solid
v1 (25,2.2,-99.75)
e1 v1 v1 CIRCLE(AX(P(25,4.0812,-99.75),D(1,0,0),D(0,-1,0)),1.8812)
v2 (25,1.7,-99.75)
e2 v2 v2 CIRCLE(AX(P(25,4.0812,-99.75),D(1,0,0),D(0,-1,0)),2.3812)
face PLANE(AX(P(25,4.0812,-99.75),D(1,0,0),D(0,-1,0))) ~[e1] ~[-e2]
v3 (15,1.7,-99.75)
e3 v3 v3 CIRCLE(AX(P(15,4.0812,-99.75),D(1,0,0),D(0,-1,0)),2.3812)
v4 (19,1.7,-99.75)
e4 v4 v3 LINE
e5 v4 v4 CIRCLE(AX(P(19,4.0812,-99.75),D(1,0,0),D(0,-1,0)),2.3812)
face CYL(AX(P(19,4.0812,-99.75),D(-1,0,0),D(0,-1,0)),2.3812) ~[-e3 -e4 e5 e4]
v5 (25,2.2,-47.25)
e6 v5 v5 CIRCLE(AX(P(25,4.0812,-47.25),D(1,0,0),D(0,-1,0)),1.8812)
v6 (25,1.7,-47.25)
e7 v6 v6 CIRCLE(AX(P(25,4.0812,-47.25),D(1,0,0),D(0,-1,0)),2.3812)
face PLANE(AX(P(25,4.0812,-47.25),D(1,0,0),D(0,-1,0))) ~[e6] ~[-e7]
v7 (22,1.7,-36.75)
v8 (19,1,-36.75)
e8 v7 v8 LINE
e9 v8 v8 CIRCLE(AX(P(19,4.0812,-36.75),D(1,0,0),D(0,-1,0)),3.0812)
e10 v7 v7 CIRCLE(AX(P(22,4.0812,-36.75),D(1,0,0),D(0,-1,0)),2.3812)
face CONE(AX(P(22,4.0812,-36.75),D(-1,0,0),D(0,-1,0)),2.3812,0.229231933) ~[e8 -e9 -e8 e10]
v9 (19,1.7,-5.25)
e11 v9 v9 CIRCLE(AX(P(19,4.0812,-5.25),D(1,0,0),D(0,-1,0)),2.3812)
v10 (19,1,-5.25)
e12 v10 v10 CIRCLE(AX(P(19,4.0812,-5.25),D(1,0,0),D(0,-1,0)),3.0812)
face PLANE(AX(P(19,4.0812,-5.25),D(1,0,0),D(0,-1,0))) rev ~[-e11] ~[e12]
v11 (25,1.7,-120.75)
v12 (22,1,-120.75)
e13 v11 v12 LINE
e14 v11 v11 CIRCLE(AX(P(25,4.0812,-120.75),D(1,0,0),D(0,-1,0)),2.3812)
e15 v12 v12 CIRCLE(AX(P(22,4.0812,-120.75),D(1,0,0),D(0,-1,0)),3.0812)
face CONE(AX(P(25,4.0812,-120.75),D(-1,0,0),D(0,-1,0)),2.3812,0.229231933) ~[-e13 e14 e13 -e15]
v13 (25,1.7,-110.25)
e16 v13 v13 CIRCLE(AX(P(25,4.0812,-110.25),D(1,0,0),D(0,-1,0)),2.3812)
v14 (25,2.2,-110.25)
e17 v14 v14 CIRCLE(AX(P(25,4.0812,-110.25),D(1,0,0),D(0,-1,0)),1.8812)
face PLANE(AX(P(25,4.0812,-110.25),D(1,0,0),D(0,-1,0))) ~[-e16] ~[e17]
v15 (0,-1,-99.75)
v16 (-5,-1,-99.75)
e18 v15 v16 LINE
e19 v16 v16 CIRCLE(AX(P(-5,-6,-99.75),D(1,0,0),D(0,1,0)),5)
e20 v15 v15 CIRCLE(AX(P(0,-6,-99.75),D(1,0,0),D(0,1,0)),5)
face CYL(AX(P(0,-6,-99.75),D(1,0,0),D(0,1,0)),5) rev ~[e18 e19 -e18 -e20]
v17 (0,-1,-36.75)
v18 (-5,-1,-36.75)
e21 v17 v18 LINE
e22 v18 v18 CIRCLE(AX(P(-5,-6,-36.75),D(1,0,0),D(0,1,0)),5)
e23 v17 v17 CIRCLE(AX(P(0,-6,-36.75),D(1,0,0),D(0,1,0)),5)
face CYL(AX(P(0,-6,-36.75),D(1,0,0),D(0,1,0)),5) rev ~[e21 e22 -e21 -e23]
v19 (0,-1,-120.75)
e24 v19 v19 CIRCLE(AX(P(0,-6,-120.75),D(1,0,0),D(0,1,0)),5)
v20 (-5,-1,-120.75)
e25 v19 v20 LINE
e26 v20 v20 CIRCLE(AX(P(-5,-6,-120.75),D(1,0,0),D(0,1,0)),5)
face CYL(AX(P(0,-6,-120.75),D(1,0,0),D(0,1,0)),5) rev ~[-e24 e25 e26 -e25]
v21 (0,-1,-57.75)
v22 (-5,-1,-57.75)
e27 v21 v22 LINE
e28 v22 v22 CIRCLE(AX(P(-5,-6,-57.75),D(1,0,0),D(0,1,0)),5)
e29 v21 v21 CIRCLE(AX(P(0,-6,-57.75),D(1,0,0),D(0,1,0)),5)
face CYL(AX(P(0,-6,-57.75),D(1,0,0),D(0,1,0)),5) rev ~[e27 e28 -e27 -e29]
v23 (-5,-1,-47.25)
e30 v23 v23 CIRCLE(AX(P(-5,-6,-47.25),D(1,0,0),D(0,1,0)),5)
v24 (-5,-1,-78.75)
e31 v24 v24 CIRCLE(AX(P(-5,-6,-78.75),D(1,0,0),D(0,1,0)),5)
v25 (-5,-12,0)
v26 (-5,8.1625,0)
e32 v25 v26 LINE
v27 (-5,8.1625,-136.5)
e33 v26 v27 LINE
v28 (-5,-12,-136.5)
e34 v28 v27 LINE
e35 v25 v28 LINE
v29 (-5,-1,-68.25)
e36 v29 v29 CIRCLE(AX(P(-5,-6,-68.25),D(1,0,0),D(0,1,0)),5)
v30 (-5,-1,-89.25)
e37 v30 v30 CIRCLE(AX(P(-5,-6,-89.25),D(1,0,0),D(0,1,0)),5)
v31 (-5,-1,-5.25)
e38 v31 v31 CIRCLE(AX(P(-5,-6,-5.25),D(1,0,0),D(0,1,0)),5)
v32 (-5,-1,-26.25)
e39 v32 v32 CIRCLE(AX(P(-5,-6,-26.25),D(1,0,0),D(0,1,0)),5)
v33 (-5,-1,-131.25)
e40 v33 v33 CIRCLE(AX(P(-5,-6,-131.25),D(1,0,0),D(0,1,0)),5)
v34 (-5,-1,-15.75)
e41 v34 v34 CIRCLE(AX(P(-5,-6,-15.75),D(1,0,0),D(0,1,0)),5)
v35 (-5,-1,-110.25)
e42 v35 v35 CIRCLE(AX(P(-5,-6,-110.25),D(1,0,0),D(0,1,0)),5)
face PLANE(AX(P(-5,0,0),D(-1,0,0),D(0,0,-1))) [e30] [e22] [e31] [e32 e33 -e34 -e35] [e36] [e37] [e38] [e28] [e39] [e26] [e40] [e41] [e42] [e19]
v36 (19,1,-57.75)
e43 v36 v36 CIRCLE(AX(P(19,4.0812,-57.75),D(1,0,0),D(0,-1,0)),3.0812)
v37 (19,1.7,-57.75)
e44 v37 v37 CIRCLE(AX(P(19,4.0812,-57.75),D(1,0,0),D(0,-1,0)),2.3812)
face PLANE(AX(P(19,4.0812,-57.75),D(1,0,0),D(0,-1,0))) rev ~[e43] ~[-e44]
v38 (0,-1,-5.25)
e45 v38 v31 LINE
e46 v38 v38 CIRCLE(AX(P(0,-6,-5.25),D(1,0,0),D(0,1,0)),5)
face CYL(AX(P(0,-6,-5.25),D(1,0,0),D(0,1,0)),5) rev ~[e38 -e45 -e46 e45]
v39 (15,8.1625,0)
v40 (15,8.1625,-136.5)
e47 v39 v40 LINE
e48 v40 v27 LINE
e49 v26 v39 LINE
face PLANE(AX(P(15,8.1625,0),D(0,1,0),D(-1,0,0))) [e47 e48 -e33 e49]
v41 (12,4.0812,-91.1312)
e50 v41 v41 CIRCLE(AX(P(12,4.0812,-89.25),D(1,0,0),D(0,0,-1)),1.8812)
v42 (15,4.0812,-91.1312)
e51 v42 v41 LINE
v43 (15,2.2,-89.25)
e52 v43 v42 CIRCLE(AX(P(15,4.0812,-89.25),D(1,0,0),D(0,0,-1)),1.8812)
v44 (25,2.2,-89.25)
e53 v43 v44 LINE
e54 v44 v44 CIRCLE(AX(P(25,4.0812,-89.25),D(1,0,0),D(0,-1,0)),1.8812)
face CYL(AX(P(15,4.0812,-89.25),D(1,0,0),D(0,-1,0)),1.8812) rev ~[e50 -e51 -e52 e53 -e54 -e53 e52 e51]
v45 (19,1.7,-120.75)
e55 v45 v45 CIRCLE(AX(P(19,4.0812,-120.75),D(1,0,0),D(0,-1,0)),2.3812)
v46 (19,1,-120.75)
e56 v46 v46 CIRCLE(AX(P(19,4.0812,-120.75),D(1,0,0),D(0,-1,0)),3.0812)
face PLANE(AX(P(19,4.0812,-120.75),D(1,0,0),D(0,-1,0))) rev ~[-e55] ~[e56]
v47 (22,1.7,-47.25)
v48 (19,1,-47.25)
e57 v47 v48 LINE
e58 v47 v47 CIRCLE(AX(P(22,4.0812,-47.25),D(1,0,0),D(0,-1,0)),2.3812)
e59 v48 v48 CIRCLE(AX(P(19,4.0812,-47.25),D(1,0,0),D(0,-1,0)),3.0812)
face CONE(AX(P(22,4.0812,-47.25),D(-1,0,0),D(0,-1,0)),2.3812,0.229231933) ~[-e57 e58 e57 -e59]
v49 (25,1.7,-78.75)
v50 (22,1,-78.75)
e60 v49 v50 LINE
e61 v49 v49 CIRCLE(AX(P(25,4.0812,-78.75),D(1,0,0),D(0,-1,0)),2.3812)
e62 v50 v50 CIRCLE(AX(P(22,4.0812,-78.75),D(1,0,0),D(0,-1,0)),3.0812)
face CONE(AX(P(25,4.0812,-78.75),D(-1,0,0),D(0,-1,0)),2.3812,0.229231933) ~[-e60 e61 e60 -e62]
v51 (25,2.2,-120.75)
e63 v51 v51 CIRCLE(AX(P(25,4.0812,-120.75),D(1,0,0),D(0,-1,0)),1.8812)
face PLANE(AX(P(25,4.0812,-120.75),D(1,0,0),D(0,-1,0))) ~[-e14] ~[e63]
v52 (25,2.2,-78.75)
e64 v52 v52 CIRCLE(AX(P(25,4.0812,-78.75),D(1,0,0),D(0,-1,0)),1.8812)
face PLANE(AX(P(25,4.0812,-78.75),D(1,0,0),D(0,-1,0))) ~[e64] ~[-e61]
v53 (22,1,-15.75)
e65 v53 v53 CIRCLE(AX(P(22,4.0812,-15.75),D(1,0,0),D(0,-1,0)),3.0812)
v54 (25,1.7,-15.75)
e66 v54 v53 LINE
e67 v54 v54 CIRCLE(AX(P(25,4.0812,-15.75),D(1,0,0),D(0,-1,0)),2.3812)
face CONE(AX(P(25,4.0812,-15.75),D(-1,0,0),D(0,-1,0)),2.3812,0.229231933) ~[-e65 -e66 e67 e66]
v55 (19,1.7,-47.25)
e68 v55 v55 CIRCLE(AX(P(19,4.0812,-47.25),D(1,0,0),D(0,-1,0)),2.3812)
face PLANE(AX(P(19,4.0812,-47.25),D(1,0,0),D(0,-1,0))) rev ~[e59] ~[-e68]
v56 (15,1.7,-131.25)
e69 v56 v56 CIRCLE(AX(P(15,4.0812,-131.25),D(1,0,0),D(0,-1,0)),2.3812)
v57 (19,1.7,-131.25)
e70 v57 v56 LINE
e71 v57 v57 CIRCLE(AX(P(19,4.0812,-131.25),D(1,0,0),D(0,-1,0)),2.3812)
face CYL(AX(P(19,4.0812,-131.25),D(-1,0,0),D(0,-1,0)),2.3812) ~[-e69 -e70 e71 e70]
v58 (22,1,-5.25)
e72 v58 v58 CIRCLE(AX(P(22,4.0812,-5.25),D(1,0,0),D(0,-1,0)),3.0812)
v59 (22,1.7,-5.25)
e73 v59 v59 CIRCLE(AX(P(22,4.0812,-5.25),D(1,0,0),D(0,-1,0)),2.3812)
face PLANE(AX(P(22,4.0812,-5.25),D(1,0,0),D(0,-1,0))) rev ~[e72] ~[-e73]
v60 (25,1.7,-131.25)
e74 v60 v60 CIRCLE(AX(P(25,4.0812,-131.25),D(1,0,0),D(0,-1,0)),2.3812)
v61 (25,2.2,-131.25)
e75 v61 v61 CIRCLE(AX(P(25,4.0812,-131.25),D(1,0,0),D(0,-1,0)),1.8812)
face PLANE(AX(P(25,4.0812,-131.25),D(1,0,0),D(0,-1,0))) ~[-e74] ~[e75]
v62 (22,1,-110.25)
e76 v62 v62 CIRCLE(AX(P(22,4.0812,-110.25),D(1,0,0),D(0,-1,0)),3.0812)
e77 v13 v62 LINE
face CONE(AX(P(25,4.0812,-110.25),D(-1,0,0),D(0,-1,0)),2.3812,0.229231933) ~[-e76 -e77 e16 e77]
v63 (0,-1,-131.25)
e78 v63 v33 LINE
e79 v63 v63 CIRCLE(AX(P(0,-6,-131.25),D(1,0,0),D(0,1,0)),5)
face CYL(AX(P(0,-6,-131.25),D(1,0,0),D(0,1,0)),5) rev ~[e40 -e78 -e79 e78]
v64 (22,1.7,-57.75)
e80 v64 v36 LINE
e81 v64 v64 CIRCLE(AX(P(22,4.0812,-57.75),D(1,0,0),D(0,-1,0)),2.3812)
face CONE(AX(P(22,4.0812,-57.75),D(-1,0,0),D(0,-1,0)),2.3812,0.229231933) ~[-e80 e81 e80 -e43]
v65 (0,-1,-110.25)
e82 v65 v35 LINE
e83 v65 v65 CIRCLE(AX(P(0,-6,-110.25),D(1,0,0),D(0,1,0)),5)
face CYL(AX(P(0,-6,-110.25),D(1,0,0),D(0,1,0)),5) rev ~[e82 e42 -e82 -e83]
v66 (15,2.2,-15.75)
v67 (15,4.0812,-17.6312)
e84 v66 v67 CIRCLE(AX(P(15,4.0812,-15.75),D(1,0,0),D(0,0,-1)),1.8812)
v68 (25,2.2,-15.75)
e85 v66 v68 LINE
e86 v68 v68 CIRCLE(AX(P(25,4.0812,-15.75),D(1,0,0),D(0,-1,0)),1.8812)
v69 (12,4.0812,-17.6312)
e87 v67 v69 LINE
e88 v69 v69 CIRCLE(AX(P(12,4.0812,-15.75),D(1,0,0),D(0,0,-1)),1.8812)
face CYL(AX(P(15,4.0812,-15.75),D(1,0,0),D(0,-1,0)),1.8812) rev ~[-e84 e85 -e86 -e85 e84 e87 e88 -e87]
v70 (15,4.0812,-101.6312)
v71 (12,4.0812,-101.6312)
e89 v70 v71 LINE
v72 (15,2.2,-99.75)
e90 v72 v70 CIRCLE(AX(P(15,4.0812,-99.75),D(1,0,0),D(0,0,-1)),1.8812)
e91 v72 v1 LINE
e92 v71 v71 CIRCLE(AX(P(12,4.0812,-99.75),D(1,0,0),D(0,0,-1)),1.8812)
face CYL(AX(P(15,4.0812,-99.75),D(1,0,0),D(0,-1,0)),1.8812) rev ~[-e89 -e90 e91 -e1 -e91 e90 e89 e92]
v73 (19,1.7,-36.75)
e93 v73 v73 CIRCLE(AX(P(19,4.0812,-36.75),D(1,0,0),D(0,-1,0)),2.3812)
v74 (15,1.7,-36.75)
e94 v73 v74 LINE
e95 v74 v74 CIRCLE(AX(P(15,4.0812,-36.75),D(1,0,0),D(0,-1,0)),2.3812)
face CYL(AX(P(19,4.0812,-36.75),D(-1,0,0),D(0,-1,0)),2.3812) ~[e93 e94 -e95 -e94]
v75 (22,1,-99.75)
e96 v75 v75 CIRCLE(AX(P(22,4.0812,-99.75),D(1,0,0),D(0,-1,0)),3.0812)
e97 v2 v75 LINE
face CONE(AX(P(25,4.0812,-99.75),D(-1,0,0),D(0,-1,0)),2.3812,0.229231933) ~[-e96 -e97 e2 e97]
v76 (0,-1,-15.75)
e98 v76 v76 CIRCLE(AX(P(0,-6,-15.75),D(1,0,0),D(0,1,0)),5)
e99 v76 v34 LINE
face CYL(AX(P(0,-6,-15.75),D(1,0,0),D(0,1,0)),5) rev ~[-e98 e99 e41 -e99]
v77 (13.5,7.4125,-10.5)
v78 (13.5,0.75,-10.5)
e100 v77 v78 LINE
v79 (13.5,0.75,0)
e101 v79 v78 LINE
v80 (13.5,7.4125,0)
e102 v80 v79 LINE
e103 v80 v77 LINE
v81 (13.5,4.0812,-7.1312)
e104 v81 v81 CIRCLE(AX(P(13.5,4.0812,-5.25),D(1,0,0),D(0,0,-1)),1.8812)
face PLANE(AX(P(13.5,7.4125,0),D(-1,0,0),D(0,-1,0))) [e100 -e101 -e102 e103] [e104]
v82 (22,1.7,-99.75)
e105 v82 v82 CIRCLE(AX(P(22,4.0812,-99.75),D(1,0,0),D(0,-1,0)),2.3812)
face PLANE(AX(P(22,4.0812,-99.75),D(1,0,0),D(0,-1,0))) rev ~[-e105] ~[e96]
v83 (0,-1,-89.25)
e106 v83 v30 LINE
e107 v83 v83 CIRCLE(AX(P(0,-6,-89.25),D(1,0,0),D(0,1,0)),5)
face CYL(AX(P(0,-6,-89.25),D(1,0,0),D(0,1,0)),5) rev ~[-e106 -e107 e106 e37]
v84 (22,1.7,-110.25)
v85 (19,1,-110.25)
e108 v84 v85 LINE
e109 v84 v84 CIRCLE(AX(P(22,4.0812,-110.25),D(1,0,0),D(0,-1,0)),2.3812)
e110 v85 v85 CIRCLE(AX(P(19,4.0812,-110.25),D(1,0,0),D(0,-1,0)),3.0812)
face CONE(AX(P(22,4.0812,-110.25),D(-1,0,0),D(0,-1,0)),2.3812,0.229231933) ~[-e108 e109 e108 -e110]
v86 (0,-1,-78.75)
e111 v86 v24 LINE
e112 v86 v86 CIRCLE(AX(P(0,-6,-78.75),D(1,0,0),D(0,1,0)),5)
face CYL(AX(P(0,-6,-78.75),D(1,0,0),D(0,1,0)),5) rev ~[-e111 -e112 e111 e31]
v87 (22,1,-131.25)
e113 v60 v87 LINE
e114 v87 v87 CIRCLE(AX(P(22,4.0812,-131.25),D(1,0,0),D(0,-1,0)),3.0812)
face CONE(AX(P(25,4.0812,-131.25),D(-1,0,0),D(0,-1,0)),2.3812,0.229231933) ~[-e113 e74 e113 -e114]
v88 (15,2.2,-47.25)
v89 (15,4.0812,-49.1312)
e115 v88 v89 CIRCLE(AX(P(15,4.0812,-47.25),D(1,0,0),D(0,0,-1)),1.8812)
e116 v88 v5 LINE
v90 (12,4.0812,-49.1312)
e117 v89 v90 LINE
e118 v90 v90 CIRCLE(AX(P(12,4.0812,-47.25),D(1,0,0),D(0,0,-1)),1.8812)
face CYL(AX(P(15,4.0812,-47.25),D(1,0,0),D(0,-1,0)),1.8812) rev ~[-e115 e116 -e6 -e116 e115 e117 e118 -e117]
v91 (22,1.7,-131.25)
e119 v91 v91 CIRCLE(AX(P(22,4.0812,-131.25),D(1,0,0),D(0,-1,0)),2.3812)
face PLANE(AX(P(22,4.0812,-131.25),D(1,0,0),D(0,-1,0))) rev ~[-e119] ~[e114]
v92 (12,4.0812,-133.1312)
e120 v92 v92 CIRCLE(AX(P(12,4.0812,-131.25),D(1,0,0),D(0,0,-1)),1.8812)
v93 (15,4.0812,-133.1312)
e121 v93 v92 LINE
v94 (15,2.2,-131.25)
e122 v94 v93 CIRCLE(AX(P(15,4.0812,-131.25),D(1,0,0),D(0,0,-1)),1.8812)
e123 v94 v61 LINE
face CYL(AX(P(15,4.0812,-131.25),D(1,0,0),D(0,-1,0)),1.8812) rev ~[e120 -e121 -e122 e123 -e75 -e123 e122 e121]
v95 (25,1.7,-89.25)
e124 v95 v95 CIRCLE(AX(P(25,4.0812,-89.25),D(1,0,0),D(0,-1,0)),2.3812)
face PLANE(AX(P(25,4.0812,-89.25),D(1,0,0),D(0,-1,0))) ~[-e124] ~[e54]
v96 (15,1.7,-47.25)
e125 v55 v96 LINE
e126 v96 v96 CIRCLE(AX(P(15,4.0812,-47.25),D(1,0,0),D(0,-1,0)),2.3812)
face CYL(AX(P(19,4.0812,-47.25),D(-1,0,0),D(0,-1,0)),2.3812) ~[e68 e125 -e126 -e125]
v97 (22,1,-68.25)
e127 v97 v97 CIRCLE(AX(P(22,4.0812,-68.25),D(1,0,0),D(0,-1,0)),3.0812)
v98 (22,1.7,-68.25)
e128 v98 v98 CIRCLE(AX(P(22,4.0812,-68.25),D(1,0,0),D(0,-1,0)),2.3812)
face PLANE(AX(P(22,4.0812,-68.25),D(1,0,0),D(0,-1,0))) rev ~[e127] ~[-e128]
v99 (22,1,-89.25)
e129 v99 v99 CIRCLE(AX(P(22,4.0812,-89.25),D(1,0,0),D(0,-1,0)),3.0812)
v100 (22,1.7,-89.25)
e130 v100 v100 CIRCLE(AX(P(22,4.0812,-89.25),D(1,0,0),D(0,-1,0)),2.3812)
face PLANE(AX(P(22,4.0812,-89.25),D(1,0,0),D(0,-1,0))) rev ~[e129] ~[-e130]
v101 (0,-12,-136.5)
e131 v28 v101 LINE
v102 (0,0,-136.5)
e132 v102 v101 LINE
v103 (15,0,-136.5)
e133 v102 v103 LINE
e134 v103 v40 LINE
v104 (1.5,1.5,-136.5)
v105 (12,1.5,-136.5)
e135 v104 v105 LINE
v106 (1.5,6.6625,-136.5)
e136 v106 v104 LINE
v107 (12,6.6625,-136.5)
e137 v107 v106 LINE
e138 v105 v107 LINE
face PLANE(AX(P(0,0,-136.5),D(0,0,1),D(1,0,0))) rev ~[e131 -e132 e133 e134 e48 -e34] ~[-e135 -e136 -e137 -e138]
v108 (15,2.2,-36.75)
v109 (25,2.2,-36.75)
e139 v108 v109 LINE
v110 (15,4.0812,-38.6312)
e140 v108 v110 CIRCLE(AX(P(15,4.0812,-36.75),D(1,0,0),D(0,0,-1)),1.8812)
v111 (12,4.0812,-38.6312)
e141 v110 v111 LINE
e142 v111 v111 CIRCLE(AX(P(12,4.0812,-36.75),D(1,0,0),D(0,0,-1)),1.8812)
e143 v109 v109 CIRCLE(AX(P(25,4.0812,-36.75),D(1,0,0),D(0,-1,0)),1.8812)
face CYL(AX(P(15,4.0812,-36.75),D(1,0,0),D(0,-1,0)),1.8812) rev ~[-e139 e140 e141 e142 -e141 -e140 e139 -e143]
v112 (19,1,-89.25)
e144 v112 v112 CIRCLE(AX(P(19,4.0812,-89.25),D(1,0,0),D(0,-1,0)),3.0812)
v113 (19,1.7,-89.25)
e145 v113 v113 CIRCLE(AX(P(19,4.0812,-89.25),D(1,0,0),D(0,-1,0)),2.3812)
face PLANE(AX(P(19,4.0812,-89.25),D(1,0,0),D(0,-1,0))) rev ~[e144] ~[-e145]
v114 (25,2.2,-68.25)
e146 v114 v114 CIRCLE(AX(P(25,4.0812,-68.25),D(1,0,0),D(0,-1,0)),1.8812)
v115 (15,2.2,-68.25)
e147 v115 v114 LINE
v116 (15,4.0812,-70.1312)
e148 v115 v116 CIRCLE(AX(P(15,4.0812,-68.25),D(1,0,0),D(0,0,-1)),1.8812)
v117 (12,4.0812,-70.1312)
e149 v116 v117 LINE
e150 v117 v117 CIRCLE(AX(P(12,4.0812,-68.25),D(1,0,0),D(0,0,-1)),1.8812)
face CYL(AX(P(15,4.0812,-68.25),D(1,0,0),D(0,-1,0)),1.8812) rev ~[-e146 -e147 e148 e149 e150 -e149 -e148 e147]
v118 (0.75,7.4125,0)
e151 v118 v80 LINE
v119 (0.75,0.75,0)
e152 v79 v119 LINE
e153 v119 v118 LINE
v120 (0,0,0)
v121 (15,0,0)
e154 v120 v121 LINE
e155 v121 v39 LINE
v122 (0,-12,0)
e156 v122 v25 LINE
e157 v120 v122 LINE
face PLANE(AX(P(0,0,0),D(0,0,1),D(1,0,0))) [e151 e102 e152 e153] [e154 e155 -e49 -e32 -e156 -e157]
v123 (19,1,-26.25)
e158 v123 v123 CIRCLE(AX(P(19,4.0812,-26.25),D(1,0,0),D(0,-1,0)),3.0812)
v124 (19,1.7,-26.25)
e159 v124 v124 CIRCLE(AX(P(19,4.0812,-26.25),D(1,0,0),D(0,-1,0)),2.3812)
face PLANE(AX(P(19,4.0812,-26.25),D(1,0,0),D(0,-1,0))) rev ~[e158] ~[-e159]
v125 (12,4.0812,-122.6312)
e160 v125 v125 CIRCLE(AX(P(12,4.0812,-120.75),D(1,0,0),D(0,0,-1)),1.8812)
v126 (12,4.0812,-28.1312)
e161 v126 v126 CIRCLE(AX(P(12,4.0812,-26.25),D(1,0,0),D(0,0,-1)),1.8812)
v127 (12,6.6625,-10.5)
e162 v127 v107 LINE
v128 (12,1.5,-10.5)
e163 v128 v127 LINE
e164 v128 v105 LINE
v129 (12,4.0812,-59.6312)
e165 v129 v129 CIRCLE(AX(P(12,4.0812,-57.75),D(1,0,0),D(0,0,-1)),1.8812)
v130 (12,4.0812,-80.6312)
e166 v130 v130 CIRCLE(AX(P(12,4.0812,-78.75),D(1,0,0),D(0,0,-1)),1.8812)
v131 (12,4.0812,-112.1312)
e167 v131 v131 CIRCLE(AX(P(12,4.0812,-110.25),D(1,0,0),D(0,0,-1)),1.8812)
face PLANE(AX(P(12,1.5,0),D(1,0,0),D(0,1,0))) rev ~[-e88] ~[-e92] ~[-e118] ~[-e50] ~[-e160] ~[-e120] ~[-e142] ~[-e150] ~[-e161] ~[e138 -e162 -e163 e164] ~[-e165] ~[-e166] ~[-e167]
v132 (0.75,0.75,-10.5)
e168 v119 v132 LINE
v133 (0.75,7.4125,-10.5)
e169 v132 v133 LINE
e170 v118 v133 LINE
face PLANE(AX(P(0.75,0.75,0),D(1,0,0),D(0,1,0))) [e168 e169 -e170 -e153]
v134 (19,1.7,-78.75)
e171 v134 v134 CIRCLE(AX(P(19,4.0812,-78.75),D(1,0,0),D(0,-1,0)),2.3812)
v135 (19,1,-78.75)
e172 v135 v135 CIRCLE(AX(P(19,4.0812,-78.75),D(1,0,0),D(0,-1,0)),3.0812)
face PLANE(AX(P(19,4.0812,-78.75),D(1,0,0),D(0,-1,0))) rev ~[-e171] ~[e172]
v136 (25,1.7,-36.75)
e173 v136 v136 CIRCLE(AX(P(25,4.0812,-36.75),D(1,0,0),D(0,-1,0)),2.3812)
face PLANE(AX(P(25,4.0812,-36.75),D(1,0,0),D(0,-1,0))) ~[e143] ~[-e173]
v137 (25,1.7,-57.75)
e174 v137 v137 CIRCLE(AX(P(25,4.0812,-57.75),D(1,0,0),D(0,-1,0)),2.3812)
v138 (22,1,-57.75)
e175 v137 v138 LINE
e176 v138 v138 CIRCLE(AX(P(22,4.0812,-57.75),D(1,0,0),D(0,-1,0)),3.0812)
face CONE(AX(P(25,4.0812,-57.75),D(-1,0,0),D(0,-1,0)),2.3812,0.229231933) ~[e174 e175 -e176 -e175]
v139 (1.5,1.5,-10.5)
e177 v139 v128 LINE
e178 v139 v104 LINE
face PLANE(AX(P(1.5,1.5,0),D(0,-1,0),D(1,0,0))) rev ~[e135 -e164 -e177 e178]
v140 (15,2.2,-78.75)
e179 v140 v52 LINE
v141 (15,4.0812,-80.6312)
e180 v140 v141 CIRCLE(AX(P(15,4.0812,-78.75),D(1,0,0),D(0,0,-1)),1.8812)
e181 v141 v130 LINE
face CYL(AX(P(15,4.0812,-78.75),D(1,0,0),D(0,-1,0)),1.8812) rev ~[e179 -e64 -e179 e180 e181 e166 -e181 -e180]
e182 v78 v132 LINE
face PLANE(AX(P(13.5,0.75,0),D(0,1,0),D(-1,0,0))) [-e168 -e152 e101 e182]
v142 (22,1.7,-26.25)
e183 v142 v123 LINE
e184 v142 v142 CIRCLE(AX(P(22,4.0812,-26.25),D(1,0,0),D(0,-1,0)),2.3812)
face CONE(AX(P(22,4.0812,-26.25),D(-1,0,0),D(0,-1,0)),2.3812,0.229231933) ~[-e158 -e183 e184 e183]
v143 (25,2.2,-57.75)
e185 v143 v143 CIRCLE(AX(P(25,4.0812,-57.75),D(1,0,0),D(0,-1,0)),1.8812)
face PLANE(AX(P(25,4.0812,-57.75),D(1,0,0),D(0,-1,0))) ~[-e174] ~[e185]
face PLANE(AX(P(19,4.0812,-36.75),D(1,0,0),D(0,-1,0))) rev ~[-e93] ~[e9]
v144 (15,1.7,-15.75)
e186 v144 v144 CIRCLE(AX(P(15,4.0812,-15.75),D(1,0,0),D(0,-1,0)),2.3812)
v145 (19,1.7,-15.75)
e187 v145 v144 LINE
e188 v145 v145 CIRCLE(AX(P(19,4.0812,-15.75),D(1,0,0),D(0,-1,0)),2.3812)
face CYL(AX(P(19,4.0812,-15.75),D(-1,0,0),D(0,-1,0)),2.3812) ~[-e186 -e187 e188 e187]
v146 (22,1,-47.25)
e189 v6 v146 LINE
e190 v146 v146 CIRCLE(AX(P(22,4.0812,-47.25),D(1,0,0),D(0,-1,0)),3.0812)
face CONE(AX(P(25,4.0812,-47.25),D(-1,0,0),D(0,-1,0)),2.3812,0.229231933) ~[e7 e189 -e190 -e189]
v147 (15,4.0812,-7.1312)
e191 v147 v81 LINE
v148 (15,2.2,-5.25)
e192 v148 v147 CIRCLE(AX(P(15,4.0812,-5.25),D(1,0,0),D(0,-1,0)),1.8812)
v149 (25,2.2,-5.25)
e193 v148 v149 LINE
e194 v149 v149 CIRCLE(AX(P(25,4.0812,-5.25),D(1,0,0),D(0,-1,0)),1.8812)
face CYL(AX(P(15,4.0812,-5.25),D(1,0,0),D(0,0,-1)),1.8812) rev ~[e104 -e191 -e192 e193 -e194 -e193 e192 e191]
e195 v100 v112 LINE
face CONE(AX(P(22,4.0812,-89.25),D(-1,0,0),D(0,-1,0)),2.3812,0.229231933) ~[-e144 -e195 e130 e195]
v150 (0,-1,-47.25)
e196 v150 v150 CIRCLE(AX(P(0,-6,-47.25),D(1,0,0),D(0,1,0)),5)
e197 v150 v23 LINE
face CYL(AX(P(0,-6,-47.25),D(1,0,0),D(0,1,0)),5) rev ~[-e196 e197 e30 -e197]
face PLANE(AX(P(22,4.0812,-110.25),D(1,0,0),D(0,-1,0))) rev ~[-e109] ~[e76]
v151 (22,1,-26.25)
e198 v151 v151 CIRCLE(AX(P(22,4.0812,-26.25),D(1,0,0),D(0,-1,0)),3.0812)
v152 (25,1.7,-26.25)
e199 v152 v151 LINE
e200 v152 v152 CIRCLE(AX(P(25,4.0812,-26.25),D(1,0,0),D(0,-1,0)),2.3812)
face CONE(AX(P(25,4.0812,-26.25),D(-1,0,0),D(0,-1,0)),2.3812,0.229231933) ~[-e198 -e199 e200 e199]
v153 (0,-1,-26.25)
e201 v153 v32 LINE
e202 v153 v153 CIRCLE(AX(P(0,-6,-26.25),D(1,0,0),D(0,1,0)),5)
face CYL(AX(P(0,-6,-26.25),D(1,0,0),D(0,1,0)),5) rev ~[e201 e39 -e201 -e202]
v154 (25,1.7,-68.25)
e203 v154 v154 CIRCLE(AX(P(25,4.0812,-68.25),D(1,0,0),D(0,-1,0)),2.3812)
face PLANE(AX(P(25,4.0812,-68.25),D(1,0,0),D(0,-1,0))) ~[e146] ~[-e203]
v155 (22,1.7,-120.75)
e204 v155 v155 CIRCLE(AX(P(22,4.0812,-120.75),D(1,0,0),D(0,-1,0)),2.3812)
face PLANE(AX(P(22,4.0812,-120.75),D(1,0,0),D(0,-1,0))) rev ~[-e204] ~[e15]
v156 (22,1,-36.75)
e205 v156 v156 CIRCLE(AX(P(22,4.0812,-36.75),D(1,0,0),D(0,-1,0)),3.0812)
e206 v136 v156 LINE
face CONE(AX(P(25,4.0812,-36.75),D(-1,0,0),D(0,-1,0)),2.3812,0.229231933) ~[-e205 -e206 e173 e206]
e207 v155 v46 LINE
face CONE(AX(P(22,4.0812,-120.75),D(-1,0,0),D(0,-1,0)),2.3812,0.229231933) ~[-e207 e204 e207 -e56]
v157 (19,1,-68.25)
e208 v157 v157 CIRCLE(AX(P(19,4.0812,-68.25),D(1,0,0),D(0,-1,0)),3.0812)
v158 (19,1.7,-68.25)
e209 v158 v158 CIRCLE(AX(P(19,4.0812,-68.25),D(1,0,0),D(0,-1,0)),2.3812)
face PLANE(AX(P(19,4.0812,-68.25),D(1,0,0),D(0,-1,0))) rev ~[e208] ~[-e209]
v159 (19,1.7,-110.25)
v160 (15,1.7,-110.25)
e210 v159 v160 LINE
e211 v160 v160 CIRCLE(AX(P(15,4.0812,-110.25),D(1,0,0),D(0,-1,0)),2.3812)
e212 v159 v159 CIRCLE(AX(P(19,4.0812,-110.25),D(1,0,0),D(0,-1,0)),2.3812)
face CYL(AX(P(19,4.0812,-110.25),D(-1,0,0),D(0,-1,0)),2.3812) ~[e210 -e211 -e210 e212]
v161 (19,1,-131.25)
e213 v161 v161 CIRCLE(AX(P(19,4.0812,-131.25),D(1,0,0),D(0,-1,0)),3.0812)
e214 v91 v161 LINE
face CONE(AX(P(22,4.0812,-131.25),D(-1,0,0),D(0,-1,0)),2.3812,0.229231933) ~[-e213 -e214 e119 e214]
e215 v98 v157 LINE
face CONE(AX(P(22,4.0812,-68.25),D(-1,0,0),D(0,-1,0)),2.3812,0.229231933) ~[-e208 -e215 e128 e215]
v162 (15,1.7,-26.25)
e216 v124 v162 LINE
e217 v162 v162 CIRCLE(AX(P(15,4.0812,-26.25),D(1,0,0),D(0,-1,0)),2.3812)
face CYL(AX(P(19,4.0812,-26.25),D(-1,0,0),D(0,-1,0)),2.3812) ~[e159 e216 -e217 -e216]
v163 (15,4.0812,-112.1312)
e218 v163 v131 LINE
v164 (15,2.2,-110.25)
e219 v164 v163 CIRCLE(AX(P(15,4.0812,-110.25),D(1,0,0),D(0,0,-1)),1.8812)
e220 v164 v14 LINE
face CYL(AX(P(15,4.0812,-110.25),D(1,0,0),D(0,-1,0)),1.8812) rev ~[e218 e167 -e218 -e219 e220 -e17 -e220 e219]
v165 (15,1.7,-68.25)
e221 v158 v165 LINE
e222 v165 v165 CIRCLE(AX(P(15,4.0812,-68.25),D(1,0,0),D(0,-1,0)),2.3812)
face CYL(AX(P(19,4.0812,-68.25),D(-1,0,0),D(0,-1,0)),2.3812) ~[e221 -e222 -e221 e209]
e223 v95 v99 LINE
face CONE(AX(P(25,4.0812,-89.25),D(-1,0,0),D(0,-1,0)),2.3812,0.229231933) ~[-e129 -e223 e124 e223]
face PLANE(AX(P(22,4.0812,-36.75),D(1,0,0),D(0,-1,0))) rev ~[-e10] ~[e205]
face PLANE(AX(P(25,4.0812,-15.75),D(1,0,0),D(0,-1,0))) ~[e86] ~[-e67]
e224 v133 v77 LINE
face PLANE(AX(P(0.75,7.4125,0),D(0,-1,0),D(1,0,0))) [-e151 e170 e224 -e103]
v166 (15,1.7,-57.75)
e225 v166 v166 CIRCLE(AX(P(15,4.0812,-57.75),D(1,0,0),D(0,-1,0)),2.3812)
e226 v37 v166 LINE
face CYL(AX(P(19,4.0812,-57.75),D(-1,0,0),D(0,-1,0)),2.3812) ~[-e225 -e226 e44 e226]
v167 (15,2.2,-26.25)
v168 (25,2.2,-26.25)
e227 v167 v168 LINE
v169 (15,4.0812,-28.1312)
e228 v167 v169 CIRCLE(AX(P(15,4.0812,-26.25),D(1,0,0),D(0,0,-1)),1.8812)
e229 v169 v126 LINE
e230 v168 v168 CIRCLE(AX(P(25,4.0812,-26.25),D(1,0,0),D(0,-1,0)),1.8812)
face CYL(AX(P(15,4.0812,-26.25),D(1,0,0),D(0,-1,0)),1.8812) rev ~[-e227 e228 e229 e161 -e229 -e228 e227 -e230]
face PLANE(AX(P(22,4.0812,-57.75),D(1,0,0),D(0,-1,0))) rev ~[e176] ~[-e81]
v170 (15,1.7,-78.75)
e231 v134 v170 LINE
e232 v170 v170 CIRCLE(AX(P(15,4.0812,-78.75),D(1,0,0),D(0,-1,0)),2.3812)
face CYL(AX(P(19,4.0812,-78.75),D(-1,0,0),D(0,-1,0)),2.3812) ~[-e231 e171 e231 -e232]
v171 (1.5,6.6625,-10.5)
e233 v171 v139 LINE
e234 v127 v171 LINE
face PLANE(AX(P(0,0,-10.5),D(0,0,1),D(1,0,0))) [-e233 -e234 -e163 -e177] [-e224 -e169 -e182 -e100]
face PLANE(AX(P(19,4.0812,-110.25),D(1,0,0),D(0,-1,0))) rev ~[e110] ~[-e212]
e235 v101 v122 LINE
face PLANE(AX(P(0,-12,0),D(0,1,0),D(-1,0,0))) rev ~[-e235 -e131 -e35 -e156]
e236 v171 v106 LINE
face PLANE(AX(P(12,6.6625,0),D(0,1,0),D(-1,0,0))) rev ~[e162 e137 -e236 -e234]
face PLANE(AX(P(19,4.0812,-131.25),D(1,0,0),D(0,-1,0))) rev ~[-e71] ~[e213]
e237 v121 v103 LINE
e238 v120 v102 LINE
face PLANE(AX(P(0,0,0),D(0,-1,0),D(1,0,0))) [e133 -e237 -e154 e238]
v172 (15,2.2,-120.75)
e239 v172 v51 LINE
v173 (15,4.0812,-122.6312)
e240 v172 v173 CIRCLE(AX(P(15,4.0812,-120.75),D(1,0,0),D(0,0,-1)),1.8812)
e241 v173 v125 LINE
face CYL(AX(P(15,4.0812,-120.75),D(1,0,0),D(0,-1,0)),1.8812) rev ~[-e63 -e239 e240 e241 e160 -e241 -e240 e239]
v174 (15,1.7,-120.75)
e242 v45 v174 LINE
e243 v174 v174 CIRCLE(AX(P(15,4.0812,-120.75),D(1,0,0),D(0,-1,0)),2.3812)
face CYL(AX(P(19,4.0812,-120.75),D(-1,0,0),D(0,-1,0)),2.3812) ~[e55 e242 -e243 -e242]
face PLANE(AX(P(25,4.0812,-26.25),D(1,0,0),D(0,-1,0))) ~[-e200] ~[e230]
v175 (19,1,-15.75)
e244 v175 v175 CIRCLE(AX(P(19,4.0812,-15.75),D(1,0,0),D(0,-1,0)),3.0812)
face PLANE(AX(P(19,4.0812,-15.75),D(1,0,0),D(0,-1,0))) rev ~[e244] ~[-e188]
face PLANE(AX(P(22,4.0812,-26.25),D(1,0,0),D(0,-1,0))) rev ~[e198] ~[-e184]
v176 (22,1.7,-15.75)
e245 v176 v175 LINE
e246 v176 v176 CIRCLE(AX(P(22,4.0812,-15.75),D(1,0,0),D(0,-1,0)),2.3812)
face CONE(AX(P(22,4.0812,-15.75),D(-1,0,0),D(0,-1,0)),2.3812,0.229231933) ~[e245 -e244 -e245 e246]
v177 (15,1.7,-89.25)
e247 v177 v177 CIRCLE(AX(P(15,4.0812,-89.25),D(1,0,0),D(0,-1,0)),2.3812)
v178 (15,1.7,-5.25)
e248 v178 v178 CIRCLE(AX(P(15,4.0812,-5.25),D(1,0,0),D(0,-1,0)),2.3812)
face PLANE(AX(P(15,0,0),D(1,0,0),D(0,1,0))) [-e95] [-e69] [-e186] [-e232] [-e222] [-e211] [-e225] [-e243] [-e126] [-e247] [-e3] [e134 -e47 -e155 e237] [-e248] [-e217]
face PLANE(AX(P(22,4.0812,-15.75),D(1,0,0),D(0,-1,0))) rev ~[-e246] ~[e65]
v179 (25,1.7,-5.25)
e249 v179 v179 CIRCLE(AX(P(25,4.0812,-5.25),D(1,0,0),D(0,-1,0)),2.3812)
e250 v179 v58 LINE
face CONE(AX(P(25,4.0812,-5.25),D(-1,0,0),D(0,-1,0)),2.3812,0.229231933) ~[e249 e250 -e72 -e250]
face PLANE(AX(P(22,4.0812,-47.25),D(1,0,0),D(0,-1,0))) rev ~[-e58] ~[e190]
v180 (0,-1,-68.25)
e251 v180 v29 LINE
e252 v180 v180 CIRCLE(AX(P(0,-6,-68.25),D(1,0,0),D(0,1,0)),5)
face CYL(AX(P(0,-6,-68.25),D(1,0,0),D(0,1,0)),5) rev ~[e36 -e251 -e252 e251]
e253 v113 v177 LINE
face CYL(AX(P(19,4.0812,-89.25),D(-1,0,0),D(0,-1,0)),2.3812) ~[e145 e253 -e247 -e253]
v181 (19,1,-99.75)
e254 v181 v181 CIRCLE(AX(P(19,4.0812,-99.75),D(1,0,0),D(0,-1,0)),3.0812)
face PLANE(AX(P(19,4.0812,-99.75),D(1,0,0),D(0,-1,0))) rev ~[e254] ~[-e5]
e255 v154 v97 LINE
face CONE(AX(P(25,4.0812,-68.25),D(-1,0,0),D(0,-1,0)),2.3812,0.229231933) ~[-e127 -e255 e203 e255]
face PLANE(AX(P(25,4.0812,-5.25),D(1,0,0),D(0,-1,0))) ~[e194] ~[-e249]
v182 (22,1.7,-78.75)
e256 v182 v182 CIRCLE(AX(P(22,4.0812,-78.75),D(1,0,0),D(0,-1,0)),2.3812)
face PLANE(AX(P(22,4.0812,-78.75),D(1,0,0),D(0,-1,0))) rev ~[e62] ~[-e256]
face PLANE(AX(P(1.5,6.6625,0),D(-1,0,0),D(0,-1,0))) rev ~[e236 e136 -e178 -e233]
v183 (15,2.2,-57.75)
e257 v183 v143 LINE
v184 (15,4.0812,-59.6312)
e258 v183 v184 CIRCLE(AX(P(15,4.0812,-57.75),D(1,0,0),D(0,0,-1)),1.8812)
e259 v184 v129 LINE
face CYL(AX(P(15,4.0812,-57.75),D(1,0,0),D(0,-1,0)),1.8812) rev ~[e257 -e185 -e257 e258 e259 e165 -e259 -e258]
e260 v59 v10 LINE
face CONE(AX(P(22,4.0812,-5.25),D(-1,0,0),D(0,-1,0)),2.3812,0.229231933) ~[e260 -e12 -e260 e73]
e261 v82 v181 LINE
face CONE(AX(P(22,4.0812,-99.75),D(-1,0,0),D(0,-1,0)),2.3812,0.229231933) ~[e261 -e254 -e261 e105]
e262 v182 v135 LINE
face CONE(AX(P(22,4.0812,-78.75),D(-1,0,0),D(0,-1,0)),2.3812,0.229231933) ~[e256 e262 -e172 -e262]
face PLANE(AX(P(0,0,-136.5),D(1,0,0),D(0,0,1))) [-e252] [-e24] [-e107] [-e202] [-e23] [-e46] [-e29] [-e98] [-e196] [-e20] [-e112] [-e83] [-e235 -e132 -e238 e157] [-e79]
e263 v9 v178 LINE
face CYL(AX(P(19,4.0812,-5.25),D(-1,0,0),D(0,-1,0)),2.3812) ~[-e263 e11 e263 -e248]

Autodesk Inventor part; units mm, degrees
ref_plane "YZ Plane" through (0, 0, 0) normal (1, 0, 0) x (0, 1, 0)
ref_plane "Silicone Fitting Plane" through (0, 0, -5.25) normal (0, 0, 1) x (1, 0, 0)
ref_plane "Cap Plane" through (0, 0, -136.5) normal (0, 0, 1) x (1, 0, 0)
sketch "Base Sketch" plane through (0, 0, 0) normal (0, 0, 1) x (1, 0, 0)
  line L0 (0, 0) -> (15, 0)
  line L1 (15, 0) -> (15, 8.1625)
  line L2 (15, 8.1625) -> (0, 8.1625)
  line L3 (0, 8.1625) -> (0, 0)
  line L4 (1.5, 1.5) -> (12, 1.5)
  line L5 (12, 1.5) -> (12, 6.6625)
  line L6 (12, 6.6625) -> (1.5, 6.6625)
  line L7 (1.5, 6.6625) -> (1.5, 1.5)
  line L8 (13.5, 0.75) -> (0.75, 0.75)
  line L9 (0.75, 0.75) -> (0.75, 7.4125)
  line L10 (0.75, 7.4125) -> (13.5, 7.4125)
  line L11 (13.5, 7.4125) -> (13.5, 0.75)
  dimension "Height" = 8.1625
  dimension "Width" = 15
  dimension "d1" = 1.5
  dimension "d2" = 1.5
  dimension "d3" = 1.5
  dimension "FittingWallWallThickness" = 3
  dimension "d181" = 0.75
  dimension "d182" = 0.75
  dimension "d183" = 1.5
  dimension "d184" = 0.75
extrude "Base" add sketch "Base Sketch" against normal blind 136.5 contours L3 L2 L1 L0 | L8 L9 L10 L11
sketch "Sketch22" plane through (0, 0, 0) normal (0, 1, 0) x (-1, 0, 0)
  line L0 (5, -136.5) -> (0, -136.5)
  line L1 (0, -136.5) -> (0, 0)
  line L2 (0, 0) -> (5, 0)
  line L3 (5, 0) -> (5, -136.5)
  dimension "d161" = 136.5
  dimension "d162" = 5
extrude "Extrusion21" add sketch "Sketch22" along normal blind 8.1625 and the other way blind 12
sketch "Silicone Fitting Sketch" plane through (0, 0, -5.25) normal (0, 0, 1) x (1, 0, 0)
  line L0 (15, 4.0812) -> (25, 4.0812) construction
  line L1 (25, 4.0812) -> (25, 1.7)
  line L2 (25, 1.7) -> (22, 1)
  line L3 (22, 1) -> (22, 1.7)
  line L4 (22, 1.7) -> (19, 1)
  line L5 (19, 1) -> (19, 1.7)
  line L6 (19, 1.7) -> (15, 1.7)
  line L7 (15, 1.7) -> (15, 4.0812)
  line L8 (25, 1.7) -> (19, 1.7) construction
  line L9 (15, 2.2) -> (25, 2.2)
  line L10 (-5, 0) -> (30, 0) construction
  point P0 (0, 0)
  dimension "d184" = 0.75
  dimension "FittingLength" = 10
  dimension "FittingRadius" = 2.3813
  dimension "d4" = 0.5
  dimension "BarbHeight" = 0.7
  dimension "BarbLength" = 3
  dimension "d5" = 15
  dimension "FittingClearance" = 1
revolve "Silicone Fitting" add sketch "Silicone Fitting Sketch" angle 360 about axis through (15, 4.0812, -5.25) along (1, 0, 0)
sketch "Airflow Cut Sketch" plane through (15, 4.0812, -5.25) normal (1, 0, 0) x (0, 0, -1)
  circle A0 centre (0, 0) radius 1.8812 projected
  point P0 (-5.25, -4.0812)
extrude "Airflow Cut" cut sketch "Airflow Cut Sketch" against normal blind 3
pattern_linear "Airflow Cut Repetition" count 13 spacing 10.5 along (0, 0, -1) of "Airflow Cut"
pattern_linear "Rectangular Pattern7" count 13 spacing 10.5 along (0, 0, -1) of "Silicone Fitting"
sketch "Sketch23" plane through (0, 0, 0) normal (1, 0, 0) x (0, 1, 0)
  circle A0 centre (-6, -5.25) radius 5
  point P0 (0, 0)
  dimension "d167" = 10
  dimension "d168" = 5.25
  dimension "d169" = 6
extrude "Extrusion22" cut sketch "Sketch23" against normal through all
pattern_linear "Rectangular Pattern8" count 13 spacing 10.5 along (0, 0, -1) of "Extrusion22"
extrude "Extrusion24" cut sketch "Base Sketch" against normal blind 10.5 contours L8 L9 L10 L11
equation "\"Height\" = 2 * FittingRadius + 2 * FittingClearance + 2 * BarbHeight"
equation "\"Width\" = ManifoldWidth"
equation "\"d1\" = WallThickness"
equation "\"d2\" = WallThickness"
equation "\"d3\" = WallThickness"
equation "\"FittingWallWallThickness\" = 2 * WallThickness"
equation "\"d161\" = Length"
equation "\"d163\" = Height"
equation "\"FittingLength\" = ManifoldFittingLength"
equation "\"d5\" = Width"
equation "\"d112\" = FittingWallWallThickness"
equation "\"d157\" = KeyWidth + KeySpacing"
equation "\"d160\" = KeyWidth + KeySpacing"
equation "\"d167\" = KeyWidth"
equation "\"d168\" = 0.5 * KeySpacing + 0.5 * KeyWidth"
equation "\"d169\" = 0.5 * KeyWidth + 2 * KeySpacing"
equation "\"d174\" = KeyWidth + KeySpacing"
equation "\"WallThickness\" = 1.5"
equation "\"ManifoldWidth\" = 15"
equation "\"Length\" = 136.5"
equation "\"ManifoldFittingLength\" = 10"
equation "\"KeyWidth\" = 10"
equation "\"KeySpacing\" = 0.5"
properties part number "ManifoldExtension2" material "ABS Plastic"
